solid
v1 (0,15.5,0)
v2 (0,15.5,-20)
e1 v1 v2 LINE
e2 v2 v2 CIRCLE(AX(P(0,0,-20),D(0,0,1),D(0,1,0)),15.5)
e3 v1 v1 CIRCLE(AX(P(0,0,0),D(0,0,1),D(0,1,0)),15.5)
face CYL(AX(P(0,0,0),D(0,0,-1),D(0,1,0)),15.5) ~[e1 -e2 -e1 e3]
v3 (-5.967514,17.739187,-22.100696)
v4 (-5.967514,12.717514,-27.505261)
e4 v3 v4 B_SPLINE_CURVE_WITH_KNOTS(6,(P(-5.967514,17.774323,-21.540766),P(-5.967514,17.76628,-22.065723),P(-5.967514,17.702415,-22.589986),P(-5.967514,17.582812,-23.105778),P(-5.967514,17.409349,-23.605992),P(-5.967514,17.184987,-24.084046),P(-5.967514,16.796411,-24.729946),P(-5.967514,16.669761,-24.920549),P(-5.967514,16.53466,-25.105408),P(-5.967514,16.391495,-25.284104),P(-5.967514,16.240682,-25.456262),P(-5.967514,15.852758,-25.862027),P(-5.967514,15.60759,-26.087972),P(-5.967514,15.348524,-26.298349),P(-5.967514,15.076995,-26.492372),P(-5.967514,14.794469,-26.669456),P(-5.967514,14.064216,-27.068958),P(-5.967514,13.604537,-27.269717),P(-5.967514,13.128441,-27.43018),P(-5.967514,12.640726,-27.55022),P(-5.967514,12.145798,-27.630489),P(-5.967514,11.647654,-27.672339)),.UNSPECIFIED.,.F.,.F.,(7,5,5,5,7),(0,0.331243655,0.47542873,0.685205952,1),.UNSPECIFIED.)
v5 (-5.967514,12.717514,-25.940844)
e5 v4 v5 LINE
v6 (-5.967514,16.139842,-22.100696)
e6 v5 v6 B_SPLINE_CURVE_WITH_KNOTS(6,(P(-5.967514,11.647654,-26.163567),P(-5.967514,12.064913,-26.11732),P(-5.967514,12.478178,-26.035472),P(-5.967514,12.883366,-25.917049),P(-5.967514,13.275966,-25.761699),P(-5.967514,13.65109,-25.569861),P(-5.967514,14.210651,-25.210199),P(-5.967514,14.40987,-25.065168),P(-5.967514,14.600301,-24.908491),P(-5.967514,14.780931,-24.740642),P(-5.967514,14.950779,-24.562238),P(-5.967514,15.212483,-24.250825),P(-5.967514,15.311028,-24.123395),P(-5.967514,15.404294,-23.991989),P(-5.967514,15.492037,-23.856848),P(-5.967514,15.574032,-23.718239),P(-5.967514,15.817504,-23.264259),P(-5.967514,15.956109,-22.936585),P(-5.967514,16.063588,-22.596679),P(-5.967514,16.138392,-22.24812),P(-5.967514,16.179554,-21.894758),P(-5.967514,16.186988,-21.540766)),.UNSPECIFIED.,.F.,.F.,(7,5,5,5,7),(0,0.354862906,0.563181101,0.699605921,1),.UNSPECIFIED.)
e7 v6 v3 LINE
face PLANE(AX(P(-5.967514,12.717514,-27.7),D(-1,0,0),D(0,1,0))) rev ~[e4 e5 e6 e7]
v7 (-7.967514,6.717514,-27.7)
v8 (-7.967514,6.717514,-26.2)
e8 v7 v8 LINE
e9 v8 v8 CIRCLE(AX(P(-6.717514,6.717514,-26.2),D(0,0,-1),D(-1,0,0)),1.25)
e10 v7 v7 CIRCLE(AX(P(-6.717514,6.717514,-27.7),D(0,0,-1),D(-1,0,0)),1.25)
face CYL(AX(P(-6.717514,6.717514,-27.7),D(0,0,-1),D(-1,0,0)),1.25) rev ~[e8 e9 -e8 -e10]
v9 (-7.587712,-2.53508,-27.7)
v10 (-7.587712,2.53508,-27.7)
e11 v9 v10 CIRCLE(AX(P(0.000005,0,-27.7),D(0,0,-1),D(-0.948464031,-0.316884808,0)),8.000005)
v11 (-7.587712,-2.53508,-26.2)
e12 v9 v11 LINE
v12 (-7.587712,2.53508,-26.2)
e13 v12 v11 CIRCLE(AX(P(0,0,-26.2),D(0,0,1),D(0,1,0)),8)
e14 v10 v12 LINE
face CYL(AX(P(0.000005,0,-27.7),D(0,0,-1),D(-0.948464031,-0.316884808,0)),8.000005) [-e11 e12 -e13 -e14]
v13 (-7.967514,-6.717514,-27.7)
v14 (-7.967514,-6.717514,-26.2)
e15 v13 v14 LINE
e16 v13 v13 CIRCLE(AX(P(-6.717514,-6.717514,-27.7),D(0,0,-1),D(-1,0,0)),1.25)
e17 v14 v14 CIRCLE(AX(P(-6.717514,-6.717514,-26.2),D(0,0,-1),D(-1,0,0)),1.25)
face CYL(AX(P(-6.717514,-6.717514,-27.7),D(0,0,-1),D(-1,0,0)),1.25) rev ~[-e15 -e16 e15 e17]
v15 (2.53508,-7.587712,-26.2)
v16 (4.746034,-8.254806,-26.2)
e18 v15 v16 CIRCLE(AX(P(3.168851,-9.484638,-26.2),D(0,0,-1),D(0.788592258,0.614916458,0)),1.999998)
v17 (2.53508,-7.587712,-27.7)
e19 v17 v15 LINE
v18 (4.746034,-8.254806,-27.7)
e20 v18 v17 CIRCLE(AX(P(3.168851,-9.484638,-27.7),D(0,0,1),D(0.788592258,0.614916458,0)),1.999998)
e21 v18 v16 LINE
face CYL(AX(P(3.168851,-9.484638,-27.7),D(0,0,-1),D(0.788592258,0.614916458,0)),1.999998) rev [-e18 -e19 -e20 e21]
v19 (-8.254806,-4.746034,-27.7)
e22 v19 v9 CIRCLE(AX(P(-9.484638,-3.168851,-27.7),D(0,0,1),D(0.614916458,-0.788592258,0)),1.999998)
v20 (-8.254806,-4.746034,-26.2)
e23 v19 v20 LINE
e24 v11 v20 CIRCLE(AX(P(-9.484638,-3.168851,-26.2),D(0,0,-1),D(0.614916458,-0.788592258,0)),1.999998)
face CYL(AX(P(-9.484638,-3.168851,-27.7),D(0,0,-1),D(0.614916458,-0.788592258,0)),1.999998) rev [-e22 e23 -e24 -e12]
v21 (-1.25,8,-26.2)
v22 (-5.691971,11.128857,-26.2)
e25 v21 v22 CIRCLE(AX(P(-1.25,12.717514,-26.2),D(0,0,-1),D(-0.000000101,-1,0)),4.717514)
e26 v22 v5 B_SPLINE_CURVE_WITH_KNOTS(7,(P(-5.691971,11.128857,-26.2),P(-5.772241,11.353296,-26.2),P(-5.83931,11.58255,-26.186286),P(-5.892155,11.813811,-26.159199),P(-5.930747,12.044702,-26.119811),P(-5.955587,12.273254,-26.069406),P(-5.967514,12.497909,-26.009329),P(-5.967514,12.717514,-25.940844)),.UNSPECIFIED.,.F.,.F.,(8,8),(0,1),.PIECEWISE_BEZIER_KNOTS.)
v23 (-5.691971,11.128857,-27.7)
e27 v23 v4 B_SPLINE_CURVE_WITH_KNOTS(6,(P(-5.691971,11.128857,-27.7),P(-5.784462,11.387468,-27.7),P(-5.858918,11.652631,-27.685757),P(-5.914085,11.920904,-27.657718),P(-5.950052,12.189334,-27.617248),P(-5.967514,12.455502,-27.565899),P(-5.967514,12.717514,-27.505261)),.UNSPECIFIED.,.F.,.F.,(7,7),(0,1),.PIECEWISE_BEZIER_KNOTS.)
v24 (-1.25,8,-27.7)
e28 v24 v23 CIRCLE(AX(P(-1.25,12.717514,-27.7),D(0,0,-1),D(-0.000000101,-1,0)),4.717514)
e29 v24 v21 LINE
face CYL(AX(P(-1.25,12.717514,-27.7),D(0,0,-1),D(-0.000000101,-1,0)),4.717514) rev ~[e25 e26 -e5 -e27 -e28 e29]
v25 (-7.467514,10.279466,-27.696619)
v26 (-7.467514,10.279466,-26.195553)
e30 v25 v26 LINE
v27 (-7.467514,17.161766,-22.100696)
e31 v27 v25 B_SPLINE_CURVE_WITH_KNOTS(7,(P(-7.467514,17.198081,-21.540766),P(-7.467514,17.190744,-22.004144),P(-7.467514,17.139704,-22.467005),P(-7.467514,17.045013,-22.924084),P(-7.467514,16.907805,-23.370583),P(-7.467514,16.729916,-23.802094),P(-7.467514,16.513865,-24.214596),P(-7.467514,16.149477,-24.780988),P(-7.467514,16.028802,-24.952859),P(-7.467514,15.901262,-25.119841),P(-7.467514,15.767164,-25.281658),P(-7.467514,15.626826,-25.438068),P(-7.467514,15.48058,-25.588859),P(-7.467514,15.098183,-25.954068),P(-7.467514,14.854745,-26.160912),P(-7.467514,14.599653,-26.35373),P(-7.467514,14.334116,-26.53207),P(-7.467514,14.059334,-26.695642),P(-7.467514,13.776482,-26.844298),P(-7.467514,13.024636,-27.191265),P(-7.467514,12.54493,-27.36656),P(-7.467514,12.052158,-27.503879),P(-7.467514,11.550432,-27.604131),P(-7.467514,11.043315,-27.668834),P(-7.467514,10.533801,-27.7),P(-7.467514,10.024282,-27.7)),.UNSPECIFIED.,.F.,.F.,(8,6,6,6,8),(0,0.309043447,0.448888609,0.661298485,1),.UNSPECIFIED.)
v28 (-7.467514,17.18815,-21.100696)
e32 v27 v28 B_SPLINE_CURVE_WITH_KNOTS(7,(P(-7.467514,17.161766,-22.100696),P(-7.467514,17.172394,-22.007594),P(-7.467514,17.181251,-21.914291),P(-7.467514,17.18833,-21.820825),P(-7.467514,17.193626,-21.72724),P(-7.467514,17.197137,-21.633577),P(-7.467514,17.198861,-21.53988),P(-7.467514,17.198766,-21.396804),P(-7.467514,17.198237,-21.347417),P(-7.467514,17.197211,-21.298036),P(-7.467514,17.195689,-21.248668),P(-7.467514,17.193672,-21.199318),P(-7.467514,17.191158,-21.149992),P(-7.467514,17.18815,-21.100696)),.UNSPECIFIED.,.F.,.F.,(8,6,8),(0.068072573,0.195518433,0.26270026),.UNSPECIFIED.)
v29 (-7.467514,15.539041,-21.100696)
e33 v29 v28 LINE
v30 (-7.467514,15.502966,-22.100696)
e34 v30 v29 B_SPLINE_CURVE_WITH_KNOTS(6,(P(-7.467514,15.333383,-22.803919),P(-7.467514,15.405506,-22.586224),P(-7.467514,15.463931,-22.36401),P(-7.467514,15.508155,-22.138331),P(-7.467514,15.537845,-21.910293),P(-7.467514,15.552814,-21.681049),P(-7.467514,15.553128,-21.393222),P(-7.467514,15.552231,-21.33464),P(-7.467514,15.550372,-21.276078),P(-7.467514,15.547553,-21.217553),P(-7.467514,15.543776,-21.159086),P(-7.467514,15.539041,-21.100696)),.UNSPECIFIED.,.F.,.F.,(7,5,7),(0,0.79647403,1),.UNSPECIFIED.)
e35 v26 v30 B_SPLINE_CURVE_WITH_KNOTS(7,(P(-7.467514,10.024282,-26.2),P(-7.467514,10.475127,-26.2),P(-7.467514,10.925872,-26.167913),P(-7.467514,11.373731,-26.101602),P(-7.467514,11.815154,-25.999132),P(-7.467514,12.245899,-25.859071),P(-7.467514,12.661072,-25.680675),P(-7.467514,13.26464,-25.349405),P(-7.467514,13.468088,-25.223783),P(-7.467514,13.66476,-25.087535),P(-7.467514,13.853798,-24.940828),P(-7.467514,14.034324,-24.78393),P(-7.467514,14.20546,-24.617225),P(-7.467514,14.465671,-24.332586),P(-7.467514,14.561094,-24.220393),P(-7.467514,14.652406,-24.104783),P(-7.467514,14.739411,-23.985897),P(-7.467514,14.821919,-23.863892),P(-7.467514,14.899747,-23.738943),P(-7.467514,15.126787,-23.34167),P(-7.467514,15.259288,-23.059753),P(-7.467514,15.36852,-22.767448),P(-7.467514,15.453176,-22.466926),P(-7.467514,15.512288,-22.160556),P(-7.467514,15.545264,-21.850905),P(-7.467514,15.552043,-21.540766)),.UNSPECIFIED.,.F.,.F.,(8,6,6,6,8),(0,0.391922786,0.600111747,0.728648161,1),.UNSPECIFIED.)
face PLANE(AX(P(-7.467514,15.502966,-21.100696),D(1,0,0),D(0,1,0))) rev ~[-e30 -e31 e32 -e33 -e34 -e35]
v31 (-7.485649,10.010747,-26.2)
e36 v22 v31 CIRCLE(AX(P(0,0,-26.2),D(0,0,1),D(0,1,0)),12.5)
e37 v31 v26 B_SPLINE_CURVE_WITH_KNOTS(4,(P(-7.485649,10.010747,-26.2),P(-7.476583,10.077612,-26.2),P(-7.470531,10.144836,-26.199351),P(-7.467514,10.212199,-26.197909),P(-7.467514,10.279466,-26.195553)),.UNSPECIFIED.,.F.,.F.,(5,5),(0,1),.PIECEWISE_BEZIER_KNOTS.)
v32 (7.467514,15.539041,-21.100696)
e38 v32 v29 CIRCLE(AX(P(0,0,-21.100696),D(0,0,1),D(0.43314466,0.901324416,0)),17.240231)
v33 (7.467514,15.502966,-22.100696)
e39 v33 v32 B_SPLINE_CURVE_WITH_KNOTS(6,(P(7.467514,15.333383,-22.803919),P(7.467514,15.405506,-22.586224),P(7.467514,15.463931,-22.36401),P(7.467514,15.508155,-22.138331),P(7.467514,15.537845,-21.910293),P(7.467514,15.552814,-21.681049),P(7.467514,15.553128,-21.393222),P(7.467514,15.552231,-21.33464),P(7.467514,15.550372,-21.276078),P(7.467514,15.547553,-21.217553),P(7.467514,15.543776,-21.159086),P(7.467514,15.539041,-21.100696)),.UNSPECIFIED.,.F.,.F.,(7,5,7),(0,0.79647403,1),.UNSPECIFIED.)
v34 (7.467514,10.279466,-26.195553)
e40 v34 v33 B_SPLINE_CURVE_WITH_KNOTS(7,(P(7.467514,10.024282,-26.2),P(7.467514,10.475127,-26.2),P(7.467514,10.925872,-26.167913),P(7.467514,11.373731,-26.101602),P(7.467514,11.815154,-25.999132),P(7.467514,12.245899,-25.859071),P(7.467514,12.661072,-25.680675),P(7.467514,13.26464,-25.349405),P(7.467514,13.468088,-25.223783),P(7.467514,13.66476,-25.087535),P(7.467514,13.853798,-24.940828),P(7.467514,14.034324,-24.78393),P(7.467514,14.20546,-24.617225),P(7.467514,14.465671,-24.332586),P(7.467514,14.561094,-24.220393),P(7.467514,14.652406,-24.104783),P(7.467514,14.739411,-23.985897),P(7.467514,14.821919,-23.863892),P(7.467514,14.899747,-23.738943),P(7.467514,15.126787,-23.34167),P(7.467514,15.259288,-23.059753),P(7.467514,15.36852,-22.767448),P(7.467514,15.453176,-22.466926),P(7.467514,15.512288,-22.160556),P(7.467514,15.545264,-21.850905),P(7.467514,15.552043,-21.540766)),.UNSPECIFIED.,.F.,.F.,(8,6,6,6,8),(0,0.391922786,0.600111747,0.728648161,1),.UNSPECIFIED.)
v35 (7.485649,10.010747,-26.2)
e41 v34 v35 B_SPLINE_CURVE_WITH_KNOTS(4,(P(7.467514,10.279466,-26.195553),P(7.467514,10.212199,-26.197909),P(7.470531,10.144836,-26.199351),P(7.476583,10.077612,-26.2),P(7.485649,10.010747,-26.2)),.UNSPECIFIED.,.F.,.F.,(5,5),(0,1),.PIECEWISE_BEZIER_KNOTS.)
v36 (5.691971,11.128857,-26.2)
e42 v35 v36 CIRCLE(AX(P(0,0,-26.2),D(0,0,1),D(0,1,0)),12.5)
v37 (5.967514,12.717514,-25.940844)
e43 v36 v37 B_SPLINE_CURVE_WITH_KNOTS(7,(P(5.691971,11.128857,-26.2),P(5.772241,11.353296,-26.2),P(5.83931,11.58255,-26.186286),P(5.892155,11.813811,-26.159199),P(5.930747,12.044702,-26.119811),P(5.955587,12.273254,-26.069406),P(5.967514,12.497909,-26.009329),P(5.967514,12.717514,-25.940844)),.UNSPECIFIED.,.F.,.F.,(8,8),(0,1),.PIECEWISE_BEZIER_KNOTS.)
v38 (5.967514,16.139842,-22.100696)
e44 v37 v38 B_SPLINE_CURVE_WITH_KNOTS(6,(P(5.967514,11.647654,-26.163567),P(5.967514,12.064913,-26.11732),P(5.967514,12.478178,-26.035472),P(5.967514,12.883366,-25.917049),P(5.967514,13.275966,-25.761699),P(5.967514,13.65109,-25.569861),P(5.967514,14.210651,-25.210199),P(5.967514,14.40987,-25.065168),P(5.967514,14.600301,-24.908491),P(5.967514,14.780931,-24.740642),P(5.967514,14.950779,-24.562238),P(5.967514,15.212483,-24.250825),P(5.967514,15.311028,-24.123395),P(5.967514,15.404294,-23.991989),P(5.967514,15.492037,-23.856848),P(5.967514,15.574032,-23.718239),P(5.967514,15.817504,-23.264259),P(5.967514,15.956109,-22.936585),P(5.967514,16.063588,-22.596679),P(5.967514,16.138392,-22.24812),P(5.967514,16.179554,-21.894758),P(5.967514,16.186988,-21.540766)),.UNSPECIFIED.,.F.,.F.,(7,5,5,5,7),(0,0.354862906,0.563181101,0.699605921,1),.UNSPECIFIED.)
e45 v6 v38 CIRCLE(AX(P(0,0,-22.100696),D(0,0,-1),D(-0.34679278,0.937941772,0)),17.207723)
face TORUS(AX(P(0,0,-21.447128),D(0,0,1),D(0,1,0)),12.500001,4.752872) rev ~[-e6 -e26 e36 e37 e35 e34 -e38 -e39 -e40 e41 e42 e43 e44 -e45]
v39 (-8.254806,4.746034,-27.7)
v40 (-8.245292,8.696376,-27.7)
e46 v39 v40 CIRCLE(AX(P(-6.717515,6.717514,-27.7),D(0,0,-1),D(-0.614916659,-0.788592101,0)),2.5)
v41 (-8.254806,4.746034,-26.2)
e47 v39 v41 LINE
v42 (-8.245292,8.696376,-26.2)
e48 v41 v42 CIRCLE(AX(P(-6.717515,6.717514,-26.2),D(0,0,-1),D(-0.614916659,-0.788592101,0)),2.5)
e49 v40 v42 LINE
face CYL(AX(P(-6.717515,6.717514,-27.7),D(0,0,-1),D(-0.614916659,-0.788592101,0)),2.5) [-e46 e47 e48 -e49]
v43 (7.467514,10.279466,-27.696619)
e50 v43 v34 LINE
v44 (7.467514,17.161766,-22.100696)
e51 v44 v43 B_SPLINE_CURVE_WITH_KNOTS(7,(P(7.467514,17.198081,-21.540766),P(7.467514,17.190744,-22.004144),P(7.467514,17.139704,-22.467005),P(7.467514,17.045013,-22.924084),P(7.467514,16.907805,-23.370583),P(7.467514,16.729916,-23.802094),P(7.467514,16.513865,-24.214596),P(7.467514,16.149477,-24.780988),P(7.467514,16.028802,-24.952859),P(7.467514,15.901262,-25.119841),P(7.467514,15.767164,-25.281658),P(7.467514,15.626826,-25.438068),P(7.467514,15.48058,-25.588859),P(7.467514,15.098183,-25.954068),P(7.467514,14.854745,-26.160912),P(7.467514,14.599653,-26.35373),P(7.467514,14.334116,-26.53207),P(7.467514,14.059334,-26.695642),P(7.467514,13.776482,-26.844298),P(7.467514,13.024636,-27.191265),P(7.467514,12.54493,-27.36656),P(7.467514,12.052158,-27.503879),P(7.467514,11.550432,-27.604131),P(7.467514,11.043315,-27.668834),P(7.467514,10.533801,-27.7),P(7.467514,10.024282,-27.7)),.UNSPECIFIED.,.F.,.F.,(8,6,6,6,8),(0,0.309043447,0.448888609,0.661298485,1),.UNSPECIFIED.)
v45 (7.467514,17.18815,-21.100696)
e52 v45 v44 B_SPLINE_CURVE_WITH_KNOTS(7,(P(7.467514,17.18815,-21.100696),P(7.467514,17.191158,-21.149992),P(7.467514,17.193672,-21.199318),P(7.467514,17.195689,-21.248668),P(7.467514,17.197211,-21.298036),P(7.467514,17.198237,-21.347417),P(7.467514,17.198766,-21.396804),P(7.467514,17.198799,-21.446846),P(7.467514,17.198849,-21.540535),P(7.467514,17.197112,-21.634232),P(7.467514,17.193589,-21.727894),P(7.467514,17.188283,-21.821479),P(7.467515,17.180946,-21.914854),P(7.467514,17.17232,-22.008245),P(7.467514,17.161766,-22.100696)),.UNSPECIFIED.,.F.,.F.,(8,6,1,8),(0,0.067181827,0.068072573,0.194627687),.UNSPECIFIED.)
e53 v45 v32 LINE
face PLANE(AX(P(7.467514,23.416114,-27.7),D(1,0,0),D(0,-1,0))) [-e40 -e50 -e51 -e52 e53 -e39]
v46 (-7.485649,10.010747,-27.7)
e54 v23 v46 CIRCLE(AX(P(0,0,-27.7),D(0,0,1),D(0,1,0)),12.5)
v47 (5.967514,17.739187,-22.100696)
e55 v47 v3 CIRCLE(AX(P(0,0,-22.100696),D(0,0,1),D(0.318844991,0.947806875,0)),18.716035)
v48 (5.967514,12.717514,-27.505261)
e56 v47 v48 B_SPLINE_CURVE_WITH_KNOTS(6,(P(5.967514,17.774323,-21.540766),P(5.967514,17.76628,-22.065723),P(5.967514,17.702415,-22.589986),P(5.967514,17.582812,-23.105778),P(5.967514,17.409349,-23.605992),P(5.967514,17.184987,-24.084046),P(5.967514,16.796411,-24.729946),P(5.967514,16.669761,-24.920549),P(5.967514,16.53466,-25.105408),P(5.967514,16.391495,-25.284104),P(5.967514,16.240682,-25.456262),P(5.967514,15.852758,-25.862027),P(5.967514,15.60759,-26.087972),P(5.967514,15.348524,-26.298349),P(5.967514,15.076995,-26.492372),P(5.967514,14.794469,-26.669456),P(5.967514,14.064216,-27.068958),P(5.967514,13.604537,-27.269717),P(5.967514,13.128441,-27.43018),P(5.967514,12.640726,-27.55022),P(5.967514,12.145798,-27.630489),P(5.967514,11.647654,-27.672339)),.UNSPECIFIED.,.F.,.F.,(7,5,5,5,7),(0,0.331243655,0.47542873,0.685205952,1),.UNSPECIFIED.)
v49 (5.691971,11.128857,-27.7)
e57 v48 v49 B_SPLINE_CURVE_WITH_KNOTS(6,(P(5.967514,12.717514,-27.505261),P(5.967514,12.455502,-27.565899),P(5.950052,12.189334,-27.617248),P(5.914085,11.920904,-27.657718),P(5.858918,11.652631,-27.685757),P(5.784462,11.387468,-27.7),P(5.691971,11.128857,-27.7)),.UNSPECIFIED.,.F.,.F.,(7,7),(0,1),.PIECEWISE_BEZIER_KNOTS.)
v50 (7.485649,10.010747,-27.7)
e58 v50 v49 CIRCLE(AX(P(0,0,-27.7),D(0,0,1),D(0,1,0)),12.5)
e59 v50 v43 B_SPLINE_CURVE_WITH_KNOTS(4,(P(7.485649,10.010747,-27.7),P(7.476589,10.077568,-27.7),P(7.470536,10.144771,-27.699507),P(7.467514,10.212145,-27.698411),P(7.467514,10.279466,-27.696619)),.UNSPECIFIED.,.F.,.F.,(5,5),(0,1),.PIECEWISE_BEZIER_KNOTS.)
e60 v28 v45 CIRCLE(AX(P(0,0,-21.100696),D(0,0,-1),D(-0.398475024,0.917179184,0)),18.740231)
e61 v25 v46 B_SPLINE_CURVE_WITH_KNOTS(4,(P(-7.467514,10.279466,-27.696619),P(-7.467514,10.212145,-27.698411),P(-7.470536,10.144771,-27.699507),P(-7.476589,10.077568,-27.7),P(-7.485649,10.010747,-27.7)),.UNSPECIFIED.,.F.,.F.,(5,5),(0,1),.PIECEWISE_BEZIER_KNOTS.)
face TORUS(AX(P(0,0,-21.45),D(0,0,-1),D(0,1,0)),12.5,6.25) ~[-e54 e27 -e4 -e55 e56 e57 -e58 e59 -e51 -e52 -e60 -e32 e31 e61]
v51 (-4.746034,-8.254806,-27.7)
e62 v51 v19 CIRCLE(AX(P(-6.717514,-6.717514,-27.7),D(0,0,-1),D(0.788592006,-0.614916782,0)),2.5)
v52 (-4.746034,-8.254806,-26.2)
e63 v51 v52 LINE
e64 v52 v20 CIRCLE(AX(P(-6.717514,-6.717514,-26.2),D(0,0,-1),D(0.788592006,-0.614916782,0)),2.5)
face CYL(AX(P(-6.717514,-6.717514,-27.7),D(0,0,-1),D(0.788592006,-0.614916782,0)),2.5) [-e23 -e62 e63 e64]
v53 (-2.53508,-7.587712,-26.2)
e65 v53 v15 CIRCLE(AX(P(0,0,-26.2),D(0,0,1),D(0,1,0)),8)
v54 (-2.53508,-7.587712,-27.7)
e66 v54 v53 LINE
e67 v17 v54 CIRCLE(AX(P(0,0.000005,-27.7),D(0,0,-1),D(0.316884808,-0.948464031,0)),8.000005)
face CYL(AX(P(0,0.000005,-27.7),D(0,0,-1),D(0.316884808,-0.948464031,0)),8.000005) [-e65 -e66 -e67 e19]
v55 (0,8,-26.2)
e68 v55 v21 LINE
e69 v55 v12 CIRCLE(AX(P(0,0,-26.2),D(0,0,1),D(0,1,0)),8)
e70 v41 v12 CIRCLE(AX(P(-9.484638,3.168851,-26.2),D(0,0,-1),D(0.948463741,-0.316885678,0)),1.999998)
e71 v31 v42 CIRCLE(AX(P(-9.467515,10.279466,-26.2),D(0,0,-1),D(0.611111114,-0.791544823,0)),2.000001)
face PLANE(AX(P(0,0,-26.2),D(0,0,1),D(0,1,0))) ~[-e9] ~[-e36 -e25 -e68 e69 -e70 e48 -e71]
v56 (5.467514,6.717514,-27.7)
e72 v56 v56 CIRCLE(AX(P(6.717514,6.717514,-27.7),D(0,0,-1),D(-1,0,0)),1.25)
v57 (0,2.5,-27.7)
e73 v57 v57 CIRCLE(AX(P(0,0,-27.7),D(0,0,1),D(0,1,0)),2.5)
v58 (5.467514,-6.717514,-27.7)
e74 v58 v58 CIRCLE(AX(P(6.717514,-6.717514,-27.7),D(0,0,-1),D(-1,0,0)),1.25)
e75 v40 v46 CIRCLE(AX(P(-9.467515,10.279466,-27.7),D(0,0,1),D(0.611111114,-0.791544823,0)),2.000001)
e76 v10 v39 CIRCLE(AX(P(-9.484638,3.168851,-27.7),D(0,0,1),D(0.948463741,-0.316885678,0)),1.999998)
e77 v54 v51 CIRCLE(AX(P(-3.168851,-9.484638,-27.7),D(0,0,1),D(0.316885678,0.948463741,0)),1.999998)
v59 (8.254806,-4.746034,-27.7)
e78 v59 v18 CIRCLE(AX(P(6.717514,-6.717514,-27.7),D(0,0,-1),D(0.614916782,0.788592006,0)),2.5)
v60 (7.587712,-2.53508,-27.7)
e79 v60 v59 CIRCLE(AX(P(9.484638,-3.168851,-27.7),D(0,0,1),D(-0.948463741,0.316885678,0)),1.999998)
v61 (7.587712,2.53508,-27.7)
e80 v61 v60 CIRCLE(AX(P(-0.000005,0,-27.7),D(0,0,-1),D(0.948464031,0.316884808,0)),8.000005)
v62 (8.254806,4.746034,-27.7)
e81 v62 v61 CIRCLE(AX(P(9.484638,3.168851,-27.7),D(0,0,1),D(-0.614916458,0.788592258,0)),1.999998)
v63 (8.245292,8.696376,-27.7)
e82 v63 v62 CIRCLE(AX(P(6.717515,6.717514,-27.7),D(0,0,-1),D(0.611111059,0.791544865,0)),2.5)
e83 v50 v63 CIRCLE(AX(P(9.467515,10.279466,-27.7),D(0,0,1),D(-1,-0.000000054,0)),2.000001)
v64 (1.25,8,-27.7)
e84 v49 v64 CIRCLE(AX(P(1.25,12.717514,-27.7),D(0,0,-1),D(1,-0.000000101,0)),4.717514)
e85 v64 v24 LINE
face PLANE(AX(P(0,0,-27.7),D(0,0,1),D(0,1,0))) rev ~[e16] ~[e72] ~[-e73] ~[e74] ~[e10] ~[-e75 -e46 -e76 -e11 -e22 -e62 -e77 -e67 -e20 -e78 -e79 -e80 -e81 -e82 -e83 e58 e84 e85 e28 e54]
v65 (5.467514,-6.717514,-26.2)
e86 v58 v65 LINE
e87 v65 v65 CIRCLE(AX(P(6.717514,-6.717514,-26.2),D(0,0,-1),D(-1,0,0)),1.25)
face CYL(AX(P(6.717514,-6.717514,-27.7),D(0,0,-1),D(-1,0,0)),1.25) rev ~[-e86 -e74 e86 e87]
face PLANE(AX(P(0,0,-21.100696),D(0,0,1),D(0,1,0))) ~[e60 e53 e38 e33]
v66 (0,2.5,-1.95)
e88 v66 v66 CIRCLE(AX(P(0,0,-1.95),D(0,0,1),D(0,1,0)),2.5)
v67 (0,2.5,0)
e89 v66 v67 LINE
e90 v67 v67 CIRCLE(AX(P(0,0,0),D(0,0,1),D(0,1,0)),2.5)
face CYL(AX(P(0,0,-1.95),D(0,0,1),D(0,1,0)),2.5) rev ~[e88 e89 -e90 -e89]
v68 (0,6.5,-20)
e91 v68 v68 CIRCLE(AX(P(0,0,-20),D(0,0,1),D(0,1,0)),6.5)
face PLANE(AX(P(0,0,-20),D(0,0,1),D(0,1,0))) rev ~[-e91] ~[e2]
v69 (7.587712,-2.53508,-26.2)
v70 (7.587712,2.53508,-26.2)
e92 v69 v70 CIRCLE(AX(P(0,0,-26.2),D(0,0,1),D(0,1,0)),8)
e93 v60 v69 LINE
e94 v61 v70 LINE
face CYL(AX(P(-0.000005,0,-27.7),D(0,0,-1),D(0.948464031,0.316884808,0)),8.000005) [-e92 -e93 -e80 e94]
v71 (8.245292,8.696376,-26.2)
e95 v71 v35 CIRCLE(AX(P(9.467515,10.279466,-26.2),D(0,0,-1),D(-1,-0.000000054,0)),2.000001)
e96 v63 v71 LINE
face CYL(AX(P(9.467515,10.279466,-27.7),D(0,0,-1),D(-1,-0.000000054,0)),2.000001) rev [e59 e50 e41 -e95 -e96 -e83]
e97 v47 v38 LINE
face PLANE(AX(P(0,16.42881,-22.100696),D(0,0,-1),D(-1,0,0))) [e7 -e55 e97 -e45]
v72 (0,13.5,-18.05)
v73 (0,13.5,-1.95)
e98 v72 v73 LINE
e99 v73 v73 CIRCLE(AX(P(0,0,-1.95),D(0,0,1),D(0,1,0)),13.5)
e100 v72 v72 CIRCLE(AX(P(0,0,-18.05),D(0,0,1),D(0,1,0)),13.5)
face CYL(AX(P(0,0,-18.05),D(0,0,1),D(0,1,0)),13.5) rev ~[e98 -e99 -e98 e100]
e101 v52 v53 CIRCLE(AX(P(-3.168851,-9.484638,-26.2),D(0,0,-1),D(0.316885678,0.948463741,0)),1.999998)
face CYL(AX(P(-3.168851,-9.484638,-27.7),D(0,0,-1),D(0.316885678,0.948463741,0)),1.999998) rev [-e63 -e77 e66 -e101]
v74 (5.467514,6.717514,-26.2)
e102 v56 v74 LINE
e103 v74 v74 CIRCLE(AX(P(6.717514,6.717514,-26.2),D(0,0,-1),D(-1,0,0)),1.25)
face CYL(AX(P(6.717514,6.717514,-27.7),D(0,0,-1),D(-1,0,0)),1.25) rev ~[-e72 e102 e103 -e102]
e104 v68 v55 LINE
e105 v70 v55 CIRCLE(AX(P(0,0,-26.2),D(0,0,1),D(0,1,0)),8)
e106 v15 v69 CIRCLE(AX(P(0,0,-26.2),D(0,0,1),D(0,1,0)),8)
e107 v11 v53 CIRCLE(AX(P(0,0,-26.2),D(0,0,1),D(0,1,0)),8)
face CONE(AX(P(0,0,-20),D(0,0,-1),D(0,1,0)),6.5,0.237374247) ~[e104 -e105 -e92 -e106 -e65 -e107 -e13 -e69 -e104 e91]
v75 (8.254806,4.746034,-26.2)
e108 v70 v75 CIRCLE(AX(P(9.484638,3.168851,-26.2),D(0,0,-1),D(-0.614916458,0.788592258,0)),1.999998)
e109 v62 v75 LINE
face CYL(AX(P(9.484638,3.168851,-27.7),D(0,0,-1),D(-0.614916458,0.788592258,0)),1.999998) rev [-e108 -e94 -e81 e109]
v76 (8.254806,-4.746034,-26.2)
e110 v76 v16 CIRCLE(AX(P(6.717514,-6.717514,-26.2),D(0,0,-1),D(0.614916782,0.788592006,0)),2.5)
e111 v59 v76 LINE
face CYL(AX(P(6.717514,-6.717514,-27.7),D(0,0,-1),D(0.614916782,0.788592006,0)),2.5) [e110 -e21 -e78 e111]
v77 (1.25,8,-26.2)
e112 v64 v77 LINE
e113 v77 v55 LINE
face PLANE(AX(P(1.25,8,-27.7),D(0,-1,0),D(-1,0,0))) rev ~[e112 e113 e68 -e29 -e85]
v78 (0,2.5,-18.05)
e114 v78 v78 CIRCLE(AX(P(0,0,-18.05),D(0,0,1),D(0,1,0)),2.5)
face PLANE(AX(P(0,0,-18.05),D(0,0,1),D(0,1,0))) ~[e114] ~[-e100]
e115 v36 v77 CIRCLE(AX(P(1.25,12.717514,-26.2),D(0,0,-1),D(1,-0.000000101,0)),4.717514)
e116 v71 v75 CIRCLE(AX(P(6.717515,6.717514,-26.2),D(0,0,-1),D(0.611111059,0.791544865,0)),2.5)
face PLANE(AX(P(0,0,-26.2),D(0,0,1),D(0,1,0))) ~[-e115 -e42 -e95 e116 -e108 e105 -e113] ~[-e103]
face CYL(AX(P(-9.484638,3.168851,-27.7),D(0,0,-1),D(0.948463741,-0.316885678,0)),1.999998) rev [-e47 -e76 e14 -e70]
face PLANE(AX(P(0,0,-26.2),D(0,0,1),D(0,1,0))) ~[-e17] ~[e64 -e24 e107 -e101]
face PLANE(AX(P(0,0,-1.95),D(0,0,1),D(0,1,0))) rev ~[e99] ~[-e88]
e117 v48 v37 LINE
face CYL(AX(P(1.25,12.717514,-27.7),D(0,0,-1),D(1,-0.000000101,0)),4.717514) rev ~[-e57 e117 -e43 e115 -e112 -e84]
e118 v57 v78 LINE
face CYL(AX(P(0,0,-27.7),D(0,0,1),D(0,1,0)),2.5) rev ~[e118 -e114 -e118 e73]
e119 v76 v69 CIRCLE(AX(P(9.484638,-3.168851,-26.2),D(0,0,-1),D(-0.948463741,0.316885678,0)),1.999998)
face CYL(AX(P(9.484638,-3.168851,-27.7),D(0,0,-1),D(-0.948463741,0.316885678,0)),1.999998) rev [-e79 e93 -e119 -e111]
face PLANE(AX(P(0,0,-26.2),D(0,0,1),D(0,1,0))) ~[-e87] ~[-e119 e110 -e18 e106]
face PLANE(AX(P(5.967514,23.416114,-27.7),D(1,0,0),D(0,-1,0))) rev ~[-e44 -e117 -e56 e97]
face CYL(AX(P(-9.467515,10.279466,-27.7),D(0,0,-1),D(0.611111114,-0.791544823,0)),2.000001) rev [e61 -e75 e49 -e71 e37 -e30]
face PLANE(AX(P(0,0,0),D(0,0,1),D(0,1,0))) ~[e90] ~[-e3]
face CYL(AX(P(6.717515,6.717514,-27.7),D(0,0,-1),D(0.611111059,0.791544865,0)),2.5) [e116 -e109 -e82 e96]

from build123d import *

# Parameters (mm, degrees)
SKETCH2_R          = 1.25
CUT_EXTRUDE1_DEPTH = 5.599304
CUT_EXTRUDE2_REACH = 8.599


with BuildPart() as part:
    # Sketch1 → Revolve1 (revolve)
    with BuildSketch(Plane(origin=(0, 0, 0), x_dir=(0, 0, -1), z_dir=(1, 0, 0))):
        with BuildLine():
            Line((0, 15.5), (20, 15.5))
            Line((20, 15.5), (20, 6.5))
            Line((20, 6.5), (26.2, 8))
            Line((26.2, 8), (26.2, 12.5))
            ThreePointArc((26.2, 12.5), (24.683117, 15.981117), (21.100696, 17.240231))
            Line((21.100696, 17.240231), (21.100696, 18.740231))
            ThreePointArc((21.100696, 18.740231), (25.744144, 17.041236), (27.7, 12.5))
            Line((27.7, 12.5), (27.7, 2.5))
            Line((27.7, 2.5), (20, 2.5))
            Line((20, 2.5), (18.05, 2.5))
            Line((18.05, 2.5), (18.05, 13.5))
            Line((18.05, 13.5), (1.95, 13.5))
            Line((1.95, 13.5), (1.95, 2.5))
            Line((1.95, 2.5), (0, 2.5))
            Line((0, 2.5), (0, 15.5))
        make_face()
    revolve(axis=Axis((0, 0, -20), (0, 0, 1)))

    # Sketch2 → Cut-Extrude1 (cut)
    with BuildSketch(Plane(origin=(0, 0, -27.7), x_dir=(-1, 0, 0), z_dir=(0, 0, -1))):
        with Locations((-6.717514, 6.717514)):
            Circle(SKETCH2_R)
        with Locations((6.717514, 6.717514)):
            Circle(SKETCH2_R)
        with Locations((6.717514, -6.717514)):
            Circle(SKETCH2_R)
        with Locations((-6.717514, -6.717514)):
            Circle(SKETCH2_R)
        with BuildLine():
            Line((-5.967514, 23.416114), (-5.967514, 12.717514))
            ThreePointArc((-5.967514, 12.717514), (-4.585786, 9.381728), (-1.25, 8))
            Line((-1.25, 8), (1.25, 8))
            ThreePointArc((1.25, 8), (4.585786, 9.381728), (5.967514, 12.717514))
            Line((5.967514, 12.717514), (5.967514, 23.416114))
            Line((5.967514, 23.416114), (-5.967514, 23.416114))
        make_face()
        with BuildLine():
            Line((-7.467514, 23.416114), (-7.467514, 10.279466))
            ThreePointArc((-7.467514, 10.279466), (-7.672459, 9.397549), (-8.245292, 8.696376))
            ThreePointArc((-8.245292, 8.696376), (-9.217507, 6.723535), (-8.254806, 4.746034))
            ThreePointArc((-8.254806, 4.746034), (-7.569897, 3.746571), (-7.587712, 2.53508))
            ThreePointArc((-7.587712, 2.53508), (-8, 0), (-7.587712, -2.53508))
            ThreePointArc((-7.587712, -2.53508), (-7.569897, -3.746571), (-8.254806, -4.746034))
            ThreePointArc((-8.254806, -4.746034), (-8.485281, -8.485281), (-4.746034, -8.254806))
            ThreePointArc((-4.746034, -8.254806), (-3.746571, -7.569897), (-2.53508, -7.587712))
            ThreePointArc((-2.53508, -7.587712), (0, -8), (2.53508, -7.587712))
            ThreePointArc((2.53508, -7.587712), (3.746571, -7.569897), (4.746034, -8.254806))
            ThreePointArc((4.746034, -8.254806), (8.485281, -8.485281), (8.254806, -4.746034))
            ThreePointArc((8.254806, -4.746034), (7.569897, -3.746571), (7.587712, -2.53508))
            ThreePointArc((7.587712, -2.53508), (8, 0), (7.587712, 2.53508))
            ThreePointArc((7.587712, 2.53508), (7.569897, 3.746571), (8.254806, 4.746034))
            ThreePointArc((8.254806, 4.746034), (9.217507, 6.723535), (8.245292, 8.696376))
            ThreePointArc((8.245292, 8.696376), (7.672459, 9.397549), (7.467514, 10.279466))
            Line((7.467514, 10.279466), (7.467514, 23.416114))
            ThreePointArc((7.467514, 23.416114), (0, -26.279016), (-7.467514, 23.416114))
        make_face()
    extrude(amount=-CUT_EXTRUDE1_DEPTH, mode=Mode.SUBTRACT)

    # Sketch3 → Cut-Extrude2 (cut, up to next)
    with BuildSketch(Plane.XY.offset(-21.100696), mode=Mode.PRIVATE) as cut_extrude2_sk1:
        with BuildLine():
            Line((7.467514, 17.1988), (7.467514, 15.502966))
            ThreePointArc((7.467514, 15.502966), (0, -17.207723), (-7.467514, 15.502966))
            Line((-7.467514, 15.502966), (-7.467514, 17.1988))
            ThreePointArc((-7.467514, 17.1988), (0, -18.75), (7.467514, 17.1988))
        make_face()
    cut_extrude2_tool1 = extrude(cut_extrude2_sk1.sketch, amount=-CUT_EXTRUDE2_REACH, mode=Mode.PRIVATE) & part.part
    add(cut_extrude2_tool1.solids().sort_by_distance((7.986992, 16.350883, -21.100696))[0], mode=Mode.SUBTRACT)


solid = part.part
